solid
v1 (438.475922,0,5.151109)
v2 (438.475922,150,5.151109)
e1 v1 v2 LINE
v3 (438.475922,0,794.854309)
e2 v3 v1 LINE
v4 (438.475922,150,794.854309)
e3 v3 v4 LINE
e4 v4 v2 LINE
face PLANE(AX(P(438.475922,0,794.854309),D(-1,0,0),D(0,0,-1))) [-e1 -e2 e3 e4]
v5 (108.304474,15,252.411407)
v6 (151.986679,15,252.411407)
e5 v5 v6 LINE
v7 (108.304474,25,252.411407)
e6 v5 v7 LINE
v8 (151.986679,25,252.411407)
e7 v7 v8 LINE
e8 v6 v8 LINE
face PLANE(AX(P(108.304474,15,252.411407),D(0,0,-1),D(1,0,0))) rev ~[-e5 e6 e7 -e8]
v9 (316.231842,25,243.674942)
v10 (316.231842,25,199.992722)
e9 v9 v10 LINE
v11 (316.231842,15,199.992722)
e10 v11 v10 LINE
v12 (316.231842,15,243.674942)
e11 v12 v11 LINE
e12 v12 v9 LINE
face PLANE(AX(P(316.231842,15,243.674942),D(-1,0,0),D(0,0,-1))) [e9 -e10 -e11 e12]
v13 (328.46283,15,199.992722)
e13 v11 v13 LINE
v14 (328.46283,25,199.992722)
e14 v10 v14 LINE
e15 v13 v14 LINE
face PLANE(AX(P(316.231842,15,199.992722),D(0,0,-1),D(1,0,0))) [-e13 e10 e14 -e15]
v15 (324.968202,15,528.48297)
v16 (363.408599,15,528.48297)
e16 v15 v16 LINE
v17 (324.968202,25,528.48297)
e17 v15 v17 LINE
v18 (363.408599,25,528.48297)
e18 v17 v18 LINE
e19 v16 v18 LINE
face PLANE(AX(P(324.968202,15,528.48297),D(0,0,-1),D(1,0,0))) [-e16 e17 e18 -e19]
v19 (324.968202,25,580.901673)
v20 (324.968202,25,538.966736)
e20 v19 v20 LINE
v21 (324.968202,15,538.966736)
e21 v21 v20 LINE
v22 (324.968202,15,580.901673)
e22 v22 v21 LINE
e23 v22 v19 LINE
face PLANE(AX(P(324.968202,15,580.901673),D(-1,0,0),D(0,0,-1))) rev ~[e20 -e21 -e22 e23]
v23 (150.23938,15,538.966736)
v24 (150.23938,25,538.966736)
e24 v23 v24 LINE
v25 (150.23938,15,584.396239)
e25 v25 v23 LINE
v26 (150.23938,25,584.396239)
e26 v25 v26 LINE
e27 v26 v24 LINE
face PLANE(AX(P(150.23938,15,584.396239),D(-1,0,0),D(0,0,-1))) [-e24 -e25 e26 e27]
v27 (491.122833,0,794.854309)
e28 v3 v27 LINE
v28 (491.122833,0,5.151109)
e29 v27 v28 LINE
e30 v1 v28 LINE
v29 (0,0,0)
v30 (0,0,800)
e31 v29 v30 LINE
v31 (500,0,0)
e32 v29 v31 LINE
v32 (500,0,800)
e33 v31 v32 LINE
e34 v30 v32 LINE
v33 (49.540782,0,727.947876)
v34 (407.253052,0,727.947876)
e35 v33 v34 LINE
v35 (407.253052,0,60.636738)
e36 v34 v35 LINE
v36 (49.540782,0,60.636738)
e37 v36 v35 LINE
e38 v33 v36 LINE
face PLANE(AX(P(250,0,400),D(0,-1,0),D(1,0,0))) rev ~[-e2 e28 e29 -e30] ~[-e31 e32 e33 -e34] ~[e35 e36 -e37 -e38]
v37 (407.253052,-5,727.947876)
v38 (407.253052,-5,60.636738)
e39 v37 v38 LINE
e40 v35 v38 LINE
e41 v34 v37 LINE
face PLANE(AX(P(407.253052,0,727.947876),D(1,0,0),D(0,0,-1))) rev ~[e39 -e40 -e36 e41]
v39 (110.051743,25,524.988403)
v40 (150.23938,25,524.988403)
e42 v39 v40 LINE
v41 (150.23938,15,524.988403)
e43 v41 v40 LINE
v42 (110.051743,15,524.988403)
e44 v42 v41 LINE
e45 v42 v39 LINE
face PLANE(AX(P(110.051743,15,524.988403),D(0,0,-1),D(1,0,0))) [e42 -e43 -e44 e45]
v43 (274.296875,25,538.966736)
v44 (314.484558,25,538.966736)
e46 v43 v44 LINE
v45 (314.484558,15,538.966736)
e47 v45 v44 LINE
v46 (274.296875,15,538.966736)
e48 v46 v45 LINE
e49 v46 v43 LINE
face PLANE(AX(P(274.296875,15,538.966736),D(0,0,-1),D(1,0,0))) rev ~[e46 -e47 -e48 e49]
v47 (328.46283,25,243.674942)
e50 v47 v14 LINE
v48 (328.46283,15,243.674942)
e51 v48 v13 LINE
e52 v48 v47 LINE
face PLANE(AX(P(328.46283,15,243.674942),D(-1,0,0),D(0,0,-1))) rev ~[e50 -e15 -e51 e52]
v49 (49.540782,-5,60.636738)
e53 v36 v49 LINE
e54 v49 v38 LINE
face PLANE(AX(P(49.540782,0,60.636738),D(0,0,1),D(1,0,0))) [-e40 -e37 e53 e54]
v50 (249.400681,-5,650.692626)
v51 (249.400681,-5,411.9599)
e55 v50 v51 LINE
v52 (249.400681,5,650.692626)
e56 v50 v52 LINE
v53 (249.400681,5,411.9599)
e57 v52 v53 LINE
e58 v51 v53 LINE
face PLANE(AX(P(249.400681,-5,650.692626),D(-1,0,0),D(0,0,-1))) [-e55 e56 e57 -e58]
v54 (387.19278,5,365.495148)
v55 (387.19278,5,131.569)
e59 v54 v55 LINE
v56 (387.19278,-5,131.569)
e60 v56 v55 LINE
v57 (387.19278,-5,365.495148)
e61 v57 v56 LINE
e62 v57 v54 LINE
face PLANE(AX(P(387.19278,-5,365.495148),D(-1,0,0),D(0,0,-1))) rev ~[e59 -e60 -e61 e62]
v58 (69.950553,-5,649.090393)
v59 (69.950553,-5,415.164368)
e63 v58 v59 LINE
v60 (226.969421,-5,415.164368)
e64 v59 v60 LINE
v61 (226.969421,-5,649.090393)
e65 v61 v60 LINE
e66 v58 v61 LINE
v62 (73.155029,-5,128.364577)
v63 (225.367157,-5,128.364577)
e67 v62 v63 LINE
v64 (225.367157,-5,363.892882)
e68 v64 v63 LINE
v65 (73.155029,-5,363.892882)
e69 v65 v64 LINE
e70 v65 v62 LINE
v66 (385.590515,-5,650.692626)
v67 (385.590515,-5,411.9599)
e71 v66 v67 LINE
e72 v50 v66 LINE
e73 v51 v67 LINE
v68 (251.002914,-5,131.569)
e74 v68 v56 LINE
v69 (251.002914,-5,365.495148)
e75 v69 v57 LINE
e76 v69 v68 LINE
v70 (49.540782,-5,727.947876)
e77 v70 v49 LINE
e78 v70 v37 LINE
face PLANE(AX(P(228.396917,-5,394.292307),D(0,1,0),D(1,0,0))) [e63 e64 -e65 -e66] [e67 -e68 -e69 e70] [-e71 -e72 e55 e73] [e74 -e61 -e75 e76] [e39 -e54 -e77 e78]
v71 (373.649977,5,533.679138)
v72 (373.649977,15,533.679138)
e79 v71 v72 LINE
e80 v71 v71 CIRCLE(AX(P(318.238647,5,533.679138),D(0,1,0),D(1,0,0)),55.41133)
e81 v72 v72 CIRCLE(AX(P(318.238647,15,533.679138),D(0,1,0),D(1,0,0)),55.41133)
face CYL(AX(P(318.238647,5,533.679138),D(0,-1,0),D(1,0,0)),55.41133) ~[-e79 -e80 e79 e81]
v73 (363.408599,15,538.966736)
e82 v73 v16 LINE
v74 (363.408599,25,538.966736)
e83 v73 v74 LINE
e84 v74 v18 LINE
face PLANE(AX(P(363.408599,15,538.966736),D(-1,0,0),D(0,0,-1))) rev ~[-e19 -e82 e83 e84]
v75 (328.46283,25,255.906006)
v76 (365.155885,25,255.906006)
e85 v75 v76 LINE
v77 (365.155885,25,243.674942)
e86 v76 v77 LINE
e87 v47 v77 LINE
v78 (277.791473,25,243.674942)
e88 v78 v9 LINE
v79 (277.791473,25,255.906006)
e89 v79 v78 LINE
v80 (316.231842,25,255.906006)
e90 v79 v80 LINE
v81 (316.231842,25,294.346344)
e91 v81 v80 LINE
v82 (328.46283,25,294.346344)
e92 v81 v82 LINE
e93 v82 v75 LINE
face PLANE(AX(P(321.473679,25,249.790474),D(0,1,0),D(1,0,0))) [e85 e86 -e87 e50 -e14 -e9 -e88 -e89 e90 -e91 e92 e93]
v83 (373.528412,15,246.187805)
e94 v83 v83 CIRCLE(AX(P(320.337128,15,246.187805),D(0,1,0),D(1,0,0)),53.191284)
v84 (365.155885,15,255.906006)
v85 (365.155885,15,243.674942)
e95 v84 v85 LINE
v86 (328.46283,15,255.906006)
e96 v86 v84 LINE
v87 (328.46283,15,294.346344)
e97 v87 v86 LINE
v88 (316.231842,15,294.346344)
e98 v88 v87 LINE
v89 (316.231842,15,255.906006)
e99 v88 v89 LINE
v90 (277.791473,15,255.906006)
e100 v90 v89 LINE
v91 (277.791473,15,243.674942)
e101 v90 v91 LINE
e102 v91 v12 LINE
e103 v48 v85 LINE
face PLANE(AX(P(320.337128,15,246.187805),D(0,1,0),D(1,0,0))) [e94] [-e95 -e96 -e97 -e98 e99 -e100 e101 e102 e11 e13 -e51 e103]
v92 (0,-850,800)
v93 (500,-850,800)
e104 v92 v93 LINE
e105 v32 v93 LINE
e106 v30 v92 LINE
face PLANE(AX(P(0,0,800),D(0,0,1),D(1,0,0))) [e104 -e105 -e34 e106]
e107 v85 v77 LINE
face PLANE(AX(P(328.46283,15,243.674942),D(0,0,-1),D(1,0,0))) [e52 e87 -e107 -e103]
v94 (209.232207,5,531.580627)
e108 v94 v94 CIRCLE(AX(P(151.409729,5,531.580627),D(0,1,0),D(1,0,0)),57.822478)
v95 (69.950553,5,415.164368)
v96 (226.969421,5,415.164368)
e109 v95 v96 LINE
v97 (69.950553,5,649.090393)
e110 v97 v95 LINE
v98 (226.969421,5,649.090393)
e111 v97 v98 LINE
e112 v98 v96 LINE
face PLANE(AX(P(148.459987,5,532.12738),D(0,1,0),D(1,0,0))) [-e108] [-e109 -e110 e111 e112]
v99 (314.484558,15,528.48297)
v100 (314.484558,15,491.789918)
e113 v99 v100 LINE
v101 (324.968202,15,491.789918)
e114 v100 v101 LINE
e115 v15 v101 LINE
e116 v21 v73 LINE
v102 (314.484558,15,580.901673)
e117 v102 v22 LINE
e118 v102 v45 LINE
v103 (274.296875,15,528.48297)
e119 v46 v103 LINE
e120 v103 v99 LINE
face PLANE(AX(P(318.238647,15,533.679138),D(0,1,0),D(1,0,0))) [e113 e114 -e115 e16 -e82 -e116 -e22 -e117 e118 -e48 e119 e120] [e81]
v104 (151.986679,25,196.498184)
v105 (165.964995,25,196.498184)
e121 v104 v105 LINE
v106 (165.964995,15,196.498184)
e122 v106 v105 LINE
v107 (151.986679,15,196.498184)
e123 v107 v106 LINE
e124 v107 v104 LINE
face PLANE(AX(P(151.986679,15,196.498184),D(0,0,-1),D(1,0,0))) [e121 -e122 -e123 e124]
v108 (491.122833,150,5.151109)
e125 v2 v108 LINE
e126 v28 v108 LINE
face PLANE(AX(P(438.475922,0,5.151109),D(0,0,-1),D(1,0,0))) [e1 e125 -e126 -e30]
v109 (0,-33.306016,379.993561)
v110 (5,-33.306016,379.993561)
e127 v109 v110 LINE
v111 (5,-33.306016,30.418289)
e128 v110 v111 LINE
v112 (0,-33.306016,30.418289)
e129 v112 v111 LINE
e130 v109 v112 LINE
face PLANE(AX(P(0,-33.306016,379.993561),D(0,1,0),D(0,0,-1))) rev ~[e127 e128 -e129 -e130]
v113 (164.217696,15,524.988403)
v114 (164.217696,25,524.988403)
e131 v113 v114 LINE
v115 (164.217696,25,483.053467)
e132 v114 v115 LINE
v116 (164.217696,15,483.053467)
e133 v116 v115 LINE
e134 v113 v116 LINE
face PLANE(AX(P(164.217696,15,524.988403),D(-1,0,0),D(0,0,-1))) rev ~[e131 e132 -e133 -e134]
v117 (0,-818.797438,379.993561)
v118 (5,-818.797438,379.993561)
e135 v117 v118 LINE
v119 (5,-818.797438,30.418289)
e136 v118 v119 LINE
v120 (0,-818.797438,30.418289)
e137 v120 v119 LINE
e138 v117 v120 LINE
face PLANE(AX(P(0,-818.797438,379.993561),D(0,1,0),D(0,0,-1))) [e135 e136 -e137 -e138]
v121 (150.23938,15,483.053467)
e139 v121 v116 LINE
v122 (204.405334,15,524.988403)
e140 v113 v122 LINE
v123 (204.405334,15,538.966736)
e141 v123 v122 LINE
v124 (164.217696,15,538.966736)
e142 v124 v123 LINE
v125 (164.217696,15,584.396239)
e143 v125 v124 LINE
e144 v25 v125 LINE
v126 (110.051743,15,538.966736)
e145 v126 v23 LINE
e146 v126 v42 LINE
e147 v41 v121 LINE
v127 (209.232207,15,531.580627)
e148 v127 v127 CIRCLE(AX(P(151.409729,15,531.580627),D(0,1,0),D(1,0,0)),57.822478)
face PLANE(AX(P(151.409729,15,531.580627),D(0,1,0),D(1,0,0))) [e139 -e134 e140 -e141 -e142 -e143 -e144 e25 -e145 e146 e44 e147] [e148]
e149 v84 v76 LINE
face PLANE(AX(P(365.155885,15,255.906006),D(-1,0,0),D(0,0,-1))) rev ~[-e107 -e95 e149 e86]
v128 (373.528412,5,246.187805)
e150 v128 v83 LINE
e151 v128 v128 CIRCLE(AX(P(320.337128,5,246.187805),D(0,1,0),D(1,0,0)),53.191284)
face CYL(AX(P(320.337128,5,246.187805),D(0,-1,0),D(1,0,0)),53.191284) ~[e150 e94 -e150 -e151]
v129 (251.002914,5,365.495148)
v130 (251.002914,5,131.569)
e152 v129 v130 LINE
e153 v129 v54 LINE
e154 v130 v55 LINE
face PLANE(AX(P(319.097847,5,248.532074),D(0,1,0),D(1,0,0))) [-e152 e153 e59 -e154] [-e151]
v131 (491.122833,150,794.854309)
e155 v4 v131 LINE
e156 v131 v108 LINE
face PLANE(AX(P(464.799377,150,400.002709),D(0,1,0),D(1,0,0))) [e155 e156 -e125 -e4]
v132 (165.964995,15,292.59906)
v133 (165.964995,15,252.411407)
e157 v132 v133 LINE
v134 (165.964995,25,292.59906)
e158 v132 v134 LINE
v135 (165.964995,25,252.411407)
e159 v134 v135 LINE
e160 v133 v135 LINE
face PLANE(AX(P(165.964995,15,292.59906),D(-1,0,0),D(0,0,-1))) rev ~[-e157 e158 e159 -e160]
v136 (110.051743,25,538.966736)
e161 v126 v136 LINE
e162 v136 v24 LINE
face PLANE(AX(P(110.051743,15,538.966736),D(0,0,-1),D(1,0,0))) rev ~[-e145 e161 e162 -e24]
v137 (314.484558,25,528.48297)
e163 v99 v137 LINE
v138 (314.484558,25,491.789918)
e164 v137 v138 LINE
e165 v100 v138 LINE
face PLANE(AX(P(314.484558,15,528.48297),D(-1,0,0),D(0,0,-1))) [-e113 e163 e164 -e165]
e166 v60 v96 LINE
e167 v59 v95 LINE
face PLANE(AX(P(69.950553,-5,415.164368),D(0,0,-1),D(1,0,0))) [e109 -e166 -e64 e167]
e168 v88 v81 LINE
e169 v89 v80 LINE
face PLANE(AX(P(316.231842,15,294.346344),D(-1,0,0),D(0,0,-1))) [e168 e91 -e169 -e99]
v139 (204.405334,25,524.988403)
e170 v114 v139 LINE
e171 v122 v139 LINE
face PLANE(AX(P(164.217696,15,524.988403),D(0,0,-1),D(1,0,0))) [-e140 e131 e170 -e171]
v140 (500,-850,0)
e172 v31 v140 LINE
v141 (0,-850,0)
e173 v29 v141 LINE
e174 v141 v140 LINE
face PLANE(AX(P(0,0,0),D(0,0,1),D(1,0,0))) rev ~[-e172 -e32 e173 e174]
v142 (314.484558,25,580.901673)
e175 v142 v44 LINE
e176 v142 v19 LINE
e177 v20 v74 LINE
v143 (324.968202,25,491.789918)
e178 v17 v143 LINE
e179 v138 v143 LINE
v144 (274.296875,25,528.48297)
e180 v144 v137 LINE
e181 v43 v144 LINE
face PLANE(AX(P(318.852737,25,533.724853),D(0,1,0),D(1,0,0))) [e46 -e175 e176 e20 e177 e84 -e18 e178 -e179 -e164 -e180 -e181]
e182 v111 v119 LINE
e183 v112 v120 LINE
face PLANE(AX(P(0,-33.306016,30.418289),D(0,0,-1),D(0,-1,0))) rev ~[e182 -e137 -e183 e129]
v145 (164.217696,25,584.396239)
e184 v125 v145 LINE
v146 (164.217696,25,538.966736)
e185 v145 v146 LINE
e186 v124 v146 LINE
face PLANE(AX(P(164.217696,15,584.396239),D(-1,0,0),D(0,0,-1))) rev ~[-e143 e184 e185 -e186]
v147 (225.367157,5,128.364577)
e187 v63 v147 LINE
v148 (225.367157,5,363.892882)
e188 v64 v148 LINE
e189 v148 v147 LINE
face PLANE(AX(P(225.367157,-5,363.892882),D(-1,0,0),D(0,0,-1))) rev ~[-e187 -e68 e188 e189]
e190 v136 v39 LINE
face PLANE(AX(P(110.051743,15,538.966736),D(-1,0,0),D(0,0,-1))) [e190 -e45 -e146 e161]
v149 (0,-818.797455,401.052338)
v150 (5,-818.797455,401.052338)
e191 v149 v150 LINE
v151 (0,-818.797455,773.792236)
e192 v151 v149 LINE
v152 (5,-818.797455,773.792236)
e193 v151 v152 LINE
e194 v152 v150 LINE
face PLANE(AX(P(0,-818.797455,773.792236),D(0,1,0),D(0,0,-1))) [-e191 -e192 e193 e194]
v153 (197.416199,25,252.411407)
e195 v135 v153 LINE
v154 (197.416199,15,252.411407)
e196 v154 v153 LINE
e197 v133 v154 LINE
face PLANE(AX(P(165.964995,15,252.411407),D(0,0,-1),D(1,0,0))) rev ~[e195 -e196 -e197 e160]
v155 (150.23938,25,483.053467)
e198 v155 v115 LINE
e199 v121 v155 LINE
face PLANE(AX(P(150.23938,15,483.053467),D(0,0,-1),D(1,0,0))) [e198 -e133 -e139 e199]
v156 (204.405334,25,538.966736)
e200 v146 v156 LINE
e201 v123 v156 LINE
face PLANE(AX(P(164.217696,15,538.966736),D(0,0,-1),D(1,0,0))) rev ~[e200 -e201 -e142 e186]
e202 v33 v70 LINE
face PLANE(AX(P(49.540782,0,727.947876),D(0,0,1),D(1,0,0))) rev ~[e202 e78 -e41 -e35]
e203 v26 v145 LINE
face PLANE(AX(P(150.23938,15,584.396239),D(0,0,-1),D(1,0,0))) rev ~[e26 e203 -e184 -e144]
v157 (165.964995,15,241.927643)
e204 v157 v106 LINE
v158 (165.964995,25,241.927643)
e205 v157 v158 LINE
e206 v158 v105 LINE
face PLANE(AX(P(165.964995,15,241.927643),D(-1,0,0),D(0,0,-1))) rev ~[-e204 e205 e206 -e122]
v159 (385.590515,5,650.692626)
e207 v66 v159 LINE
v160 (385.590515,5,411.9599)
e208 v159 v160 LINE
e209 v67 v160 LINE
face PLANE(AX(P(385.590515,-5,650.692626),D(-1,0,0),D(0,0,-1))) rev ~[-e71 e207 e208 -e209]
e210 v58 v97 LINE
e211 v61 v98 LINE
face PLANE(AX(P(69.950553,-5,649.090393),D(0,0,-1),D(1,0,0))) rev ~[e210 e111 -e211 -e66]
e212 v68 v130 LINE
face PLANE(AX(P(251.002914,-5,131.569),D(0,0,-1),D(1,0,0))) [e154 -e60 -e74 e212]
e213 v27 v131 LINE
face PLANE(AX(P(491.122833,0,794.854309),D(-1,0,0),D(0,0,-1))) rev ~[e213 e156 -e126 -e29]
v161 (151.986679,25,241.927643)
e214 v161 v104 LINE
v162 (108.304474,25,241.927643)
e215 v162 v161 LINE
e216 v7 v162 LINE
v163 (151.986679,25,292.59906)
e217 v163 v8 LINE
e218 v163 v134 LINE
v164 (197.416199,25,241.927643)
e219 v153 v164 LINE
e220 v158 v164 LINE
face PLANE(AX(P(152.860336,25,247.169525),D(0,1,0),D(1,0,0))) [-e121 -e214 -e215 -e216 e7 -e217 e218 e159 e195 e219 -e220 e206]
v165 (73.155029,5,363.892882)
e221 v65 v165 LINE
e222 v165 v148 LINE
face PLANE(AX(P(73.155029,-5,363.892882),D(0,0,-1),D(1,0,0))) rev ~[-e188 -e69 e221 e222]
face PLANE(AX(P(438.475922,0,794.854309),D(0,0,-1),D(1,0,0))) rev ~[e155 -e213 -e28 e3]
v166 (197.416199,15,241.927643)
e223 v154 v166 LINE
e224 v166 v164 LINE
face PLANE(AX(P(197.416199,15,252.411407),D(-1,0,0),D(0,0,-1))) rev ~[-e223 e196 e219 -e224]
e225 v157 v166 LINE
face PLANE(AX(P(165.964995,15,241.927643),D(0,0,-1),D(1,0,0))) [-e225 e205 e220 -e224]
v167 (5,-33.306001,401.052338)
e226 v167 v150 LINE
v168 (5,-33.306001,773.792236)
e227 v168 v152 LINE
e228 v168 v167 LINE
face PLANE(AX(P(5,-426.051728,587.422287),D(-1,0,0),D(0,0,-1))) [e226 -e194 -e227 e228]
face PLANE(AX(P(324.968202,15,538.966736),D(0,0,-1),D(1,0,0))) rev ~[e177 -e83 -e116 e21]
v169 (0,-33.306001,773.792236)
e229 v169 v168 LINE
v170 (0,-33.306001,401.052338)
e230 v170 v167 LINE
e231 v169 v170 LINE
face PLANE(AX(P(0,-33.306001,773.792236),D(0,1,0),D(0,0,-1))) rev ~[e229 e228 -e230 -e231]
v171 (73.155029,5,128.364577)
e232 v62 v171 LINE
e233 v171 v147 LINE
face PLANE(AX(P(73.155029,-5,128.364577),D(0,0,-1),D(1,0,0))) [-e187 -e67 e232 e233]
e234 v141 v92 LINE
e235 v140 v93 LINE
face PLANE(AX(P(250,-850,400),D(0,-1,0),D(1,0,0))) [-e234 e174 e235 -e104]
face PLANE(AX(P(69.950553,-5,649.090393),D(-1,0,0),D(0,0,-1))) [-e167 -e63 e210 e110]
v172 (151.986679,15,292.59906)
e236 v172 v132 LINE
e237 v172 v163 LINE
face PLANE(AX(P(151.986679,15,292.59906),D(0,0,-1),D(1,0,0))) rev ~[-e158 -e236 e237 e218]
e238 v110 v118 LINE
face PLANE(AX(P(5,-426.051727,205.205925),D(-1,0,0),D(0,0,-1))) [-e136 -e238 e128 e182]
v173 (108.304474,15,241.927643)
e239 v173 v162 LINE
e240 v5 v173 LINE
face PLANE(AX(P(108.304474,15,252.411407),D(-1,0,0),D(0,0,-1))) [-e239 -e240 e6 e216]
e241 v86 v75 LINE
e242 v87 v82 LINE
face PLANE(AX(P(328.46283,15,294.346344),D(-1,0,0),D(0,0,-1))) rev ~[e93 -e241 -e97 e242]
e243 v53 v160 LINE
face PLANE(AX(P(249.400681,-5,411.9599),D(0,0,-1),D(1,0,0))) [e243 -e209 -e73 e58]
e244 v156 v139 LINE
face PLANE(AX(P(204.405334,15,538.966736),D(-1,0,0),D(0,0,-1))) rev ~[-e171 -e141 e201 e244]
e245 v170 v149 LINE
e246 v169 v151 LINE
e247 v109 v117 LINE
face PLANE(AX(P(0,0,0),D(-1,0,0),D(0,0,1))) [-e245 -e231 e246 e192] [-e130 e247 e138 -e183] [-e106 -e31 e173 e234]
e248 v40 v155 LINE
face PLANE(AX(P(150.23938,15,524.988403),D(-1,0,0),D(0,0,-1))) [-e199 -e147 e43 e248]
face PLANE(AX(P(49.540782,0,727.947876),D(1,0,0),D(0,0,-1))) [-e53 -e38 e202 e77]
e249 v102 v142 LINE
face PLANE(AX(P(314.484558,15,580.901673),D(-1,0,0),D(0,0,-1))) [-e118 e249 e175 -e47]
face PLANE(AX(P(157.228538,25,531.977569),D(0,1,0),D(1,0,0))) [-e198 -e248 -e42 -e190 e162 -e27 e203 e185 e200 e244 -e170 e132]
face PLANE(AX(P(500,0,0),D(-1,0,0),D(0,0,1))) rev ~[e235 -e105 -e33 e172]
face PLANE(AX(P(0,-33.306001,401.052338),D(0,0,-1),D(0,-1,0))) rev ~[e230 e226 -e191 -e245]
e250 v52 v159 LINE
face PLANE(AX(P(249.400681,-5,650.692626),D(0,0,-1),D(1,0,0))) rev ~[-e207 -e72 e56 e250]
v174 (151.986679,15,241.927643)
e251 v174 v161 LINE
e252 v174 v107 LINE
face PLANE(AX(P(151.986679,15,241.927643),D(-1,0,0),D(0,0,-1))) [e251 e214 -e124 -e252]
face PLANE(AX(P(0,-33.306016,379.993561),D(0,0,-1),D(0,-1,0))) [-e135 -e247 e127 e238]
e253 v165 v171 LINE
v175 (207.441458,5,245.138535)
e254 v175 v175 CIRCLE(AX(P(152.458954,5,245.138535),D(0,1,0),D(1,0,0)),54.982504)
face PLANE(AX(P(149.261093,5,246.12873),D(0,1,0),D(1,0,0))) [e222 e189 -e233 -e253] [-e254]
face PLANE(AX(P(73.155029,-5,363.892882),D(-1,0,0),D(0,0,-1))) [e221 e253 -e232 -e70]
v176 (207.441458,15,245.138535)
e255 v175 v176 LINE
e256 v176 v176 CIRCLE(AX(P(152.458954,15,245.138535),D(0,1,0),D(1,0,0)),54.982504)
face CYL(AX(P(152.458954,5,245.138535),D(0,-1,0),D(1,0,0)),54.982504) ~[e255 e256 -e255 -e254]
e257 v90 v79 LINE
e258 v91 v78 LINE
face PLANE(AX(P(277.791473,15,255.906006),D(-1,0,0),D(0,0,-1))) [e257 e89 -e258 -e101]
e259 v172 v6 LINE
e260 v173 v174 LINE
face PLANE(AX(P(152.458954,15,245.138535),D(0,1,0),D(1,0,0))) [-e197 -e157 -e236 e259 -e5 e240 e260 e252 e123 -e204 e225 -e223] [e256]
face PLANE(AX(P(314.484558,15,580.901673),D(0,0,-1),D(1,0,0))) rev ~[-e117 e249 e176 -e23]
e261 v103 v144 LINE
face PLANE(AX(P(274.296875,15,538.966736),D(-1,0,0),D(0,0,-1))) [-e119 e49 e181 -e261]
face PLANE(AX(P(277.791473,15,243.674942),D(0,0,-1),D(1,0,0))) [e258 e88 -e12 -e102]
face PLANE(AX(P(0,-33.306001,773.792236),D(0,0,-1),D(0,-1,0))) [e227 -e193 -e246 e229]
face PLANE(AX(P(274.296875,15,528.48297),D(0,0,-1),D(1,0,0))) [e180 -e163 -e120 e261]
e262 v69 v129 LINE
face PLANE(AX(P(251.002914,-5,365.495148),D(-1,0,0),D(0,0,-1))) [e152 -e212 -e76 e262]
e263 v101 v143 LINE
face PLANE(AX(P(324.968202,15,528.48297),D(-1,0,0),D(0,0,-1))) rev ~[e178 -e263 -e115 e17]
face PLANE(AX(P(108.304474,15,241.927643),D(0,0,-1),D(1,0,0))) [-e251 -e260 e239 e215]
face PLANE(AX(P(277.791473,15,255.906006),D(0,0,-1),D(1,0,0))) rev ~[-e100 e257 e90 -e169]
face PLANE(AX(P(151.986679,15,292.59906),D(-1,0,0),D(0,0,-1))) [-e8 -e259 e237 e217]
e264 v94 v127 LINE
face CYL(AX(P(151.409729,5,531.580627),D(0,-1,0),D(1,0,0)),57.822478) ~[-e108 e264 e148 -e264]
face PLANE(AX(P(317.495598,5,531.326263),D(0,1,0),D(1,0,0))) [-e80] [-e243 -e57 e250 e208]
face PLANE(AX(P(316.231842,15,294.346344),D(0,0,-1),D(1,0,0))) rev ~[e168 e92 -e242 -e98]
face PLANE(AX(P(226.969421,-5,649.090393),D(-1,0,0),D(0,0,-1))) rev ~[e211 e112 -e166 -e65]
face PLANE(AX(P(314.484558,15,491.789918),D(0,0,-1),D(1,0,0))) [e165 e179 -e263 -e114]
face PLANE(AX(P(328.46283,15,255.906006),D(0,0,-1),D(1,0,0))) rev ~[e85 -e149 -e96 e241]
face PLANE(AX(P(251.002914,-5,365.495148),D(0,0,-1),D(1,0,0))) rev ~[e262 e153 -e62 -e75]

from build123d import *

# Parameters (mm, degrees)
SKETCH_W        = 500
SKETCH_H        = 800
PAD_DEPTH       = 850
SKETCH001_W     = 372.739898
SKETCH001_H     = 785.491455
SKETCH001_W_2   = 349.575272
SKETCH001_H_2   = 785.491421
POCKET_DEPTH    = 5
SKETCH002_W     = 52.646911
SKETCH002_H     = 789.7032
PAD001_DEPTH    = 150
SKETCH003_W     = 357.712269
SKETCH003_H     = 667.311138
POCKET001_DEPTH = 5
SKETCH004_W     = 152.212128
SKETCH004_H     = 235.528305
SKETCH004_W_2   = 136.189866
SKETCH004_H_2   = 233.926148
SKETCH004_W_3   = 157.018867
SKETCH004_H_3   = 233.926025
SKETCH004_W_4   = 136.189834
SKETCH004_H_4   = 238.732727
PAD002_DEPTH    = 10
SKETCH005_R     = 54.982504
SKETCH005_R_2   = 53.191284
SKETCH005_R_3   = 57.822478
SKETCH005_R_4   = 55.41133
PAD003_DEPTH    = 10
SKETCH006_W     = 89.111725
SKETCH006_H     = 10.483764
SKETCH006_W_2   = 87.364411
SKETCH006_H_2   = 12.231064
SKETCH006_W_3   = 94.353591
SKETCH006_H_3   = 13.978333
SKETCH006_H_4   = 10.483765
SKETCH006_W_4   = 13.978317
SKETCH006_H_5   = 96.100876
SKETCH006_W_5   = 12.230988
SKETCH006_H_6   = 94.353622
SKETCH006_H_7   = 101.342773
SKETCH006_W_6   = 10.483643
SKETCH006_H_8   = 89.111755
PAD004_DEPTH    = 10


with BuildPart() as part:
    # Sketch → Pad (new body)
    with BuildSketch(Plane.XZ):
        with Locations((250, 400)):
            Rectangle(SKETCH_W, SKETCH_H)
    extrude(amount=PAD_DEPTH)

    # Sketch001 (on Face4 of Pad) → Pocket (cut)
    with BuildSketch(Plane(origin=(0, 0, 0), x_dir=(0, 0, -1), z_dir=(-1, 0, 0))):
        with Locations((-587.422287, 426.051728)):
            Rectangle(SKETCH001_W, SKETCH001_H)
        with Locations((-205.205925, 426.051727)):
            Rectangle(SKETCH001_W_2, SKETCH001_H_2)
    extrude(amount=-POCKET_DEPTH, mode=Mode.SUBTRACT)

    # Sketch002 (on Face4 of Pocket) → Pad001 (join)
    with BuildSketch(Plane(origin=(0, 0, 0), x_dir=(1, 0, 0), z_dir=(0, 1, 0))):
        with Locations((464.799377, -400.002709)):
            Rectangle(SKETCH002_W, SKETCH002_H)
    extrude(amount=PAD001_DEPTH)

    # Sketch003 (on Face4 of Pad001) → Pocket001 (cut)
    with BuildSketch(Plane(origin=(0, 0, 0), x_dir=(1, 0, 0), z_dir=(0, 1, 0))):
        with Locations((228.396917, -394.292307)):
            Rectangle(SKETCH003_W, SKETCH003_H)
    extrude(amount=-POCKET001_DEPTH, mode=Mode.SUBTRACT)

    # Sketch004 (on Face25 of Pocket001) → Pad002 (join)
    with BuildSketch(Plane(origin=(0, -5, 0), x_dir=(1, 0, 0), z_dir=(0, 1, 0))):
        with Locations((149.261093, -246.12873)):
            Rectangle(SKETCH004_W, SKETCH004_H)
        with Locations((319.097847, -248.532074)):
            Rectangle(SKETCH004_W_2, SKETCH004_H_2)
        with Locations((148.459987, -532.12738)):
            Rectangle(SKETCH004_W_3, SKETCH004_H_3)
        with Locations((317.495598, -531.326263)):
            Rectangle(SKETCH004_W_4, SKETCH004_H_4)
    extrude(amount=PAD002_DEPTH)

    # Sketch005 (on Face43 of Pad002) → Pad003 (join)
    with BuildSketch(Plane(origin=(0, 5, 0), x_dir=(1, 0, 0), z_dir=(0, 1, 0))):
        with Locations((152.458954, -245.138535)):
            Circle(SKETCH005_R)
        with Locations((320.337128, -246.187805)):
            Circle(SKETCH005_R_2)
        with Locations((151.409729, -531.580627)):
            Circle(SKETCH005_R_3)
        with Locations((318.238647, -533.679138)):
            Circle(SKETCH005_R_4)
    extrude(amount=PAD003_DEPTH)

    # Sketch006 (on Face51 of Pad003) → Pad004 (join)
    with BuildSketch(Plane(origin=(0, 15, 0), x_dir=(1, 0, 0), z_dir=(0, 1, 0))):
        with Locations((152.860336, -247.169525)):
            Rectangle(SKETCH006_W, SKETCH006_H)
        with Locations((321.473679, -249.790474)):
            Rectangle(SKETCH006_W_2, SKETCH006_H_2)
        with Locations((157.228538, -531.977569)):
            Rectangle(SKETCH006_W_3, SKETCH006_H_3)
        with Locations((318.852737, -533.724853)):
            Rectangle(SKETCH006_W, SKETCH006_H_4)
        with Locations((158.975837, -244.548622)):
            Rectangle(SKETCH006_W_4, SKETCH006_H_5)
        with Locations((322.347336, -247.169533)):
            Rectangle(SKETCH006_W_5, SKETCH006_H_6)
        with Locations((157.228538, -533.724853)):
            Rectangle(SKETCH006_W_4, SKETCH006_H_7)
        with Locations((319.72638, -536.345795)):
            Rectangle(SKETCH006_W_6, SKETCH006_H_8)
    extrude(amount=PAD004_DEPTH)


solid = part.part
